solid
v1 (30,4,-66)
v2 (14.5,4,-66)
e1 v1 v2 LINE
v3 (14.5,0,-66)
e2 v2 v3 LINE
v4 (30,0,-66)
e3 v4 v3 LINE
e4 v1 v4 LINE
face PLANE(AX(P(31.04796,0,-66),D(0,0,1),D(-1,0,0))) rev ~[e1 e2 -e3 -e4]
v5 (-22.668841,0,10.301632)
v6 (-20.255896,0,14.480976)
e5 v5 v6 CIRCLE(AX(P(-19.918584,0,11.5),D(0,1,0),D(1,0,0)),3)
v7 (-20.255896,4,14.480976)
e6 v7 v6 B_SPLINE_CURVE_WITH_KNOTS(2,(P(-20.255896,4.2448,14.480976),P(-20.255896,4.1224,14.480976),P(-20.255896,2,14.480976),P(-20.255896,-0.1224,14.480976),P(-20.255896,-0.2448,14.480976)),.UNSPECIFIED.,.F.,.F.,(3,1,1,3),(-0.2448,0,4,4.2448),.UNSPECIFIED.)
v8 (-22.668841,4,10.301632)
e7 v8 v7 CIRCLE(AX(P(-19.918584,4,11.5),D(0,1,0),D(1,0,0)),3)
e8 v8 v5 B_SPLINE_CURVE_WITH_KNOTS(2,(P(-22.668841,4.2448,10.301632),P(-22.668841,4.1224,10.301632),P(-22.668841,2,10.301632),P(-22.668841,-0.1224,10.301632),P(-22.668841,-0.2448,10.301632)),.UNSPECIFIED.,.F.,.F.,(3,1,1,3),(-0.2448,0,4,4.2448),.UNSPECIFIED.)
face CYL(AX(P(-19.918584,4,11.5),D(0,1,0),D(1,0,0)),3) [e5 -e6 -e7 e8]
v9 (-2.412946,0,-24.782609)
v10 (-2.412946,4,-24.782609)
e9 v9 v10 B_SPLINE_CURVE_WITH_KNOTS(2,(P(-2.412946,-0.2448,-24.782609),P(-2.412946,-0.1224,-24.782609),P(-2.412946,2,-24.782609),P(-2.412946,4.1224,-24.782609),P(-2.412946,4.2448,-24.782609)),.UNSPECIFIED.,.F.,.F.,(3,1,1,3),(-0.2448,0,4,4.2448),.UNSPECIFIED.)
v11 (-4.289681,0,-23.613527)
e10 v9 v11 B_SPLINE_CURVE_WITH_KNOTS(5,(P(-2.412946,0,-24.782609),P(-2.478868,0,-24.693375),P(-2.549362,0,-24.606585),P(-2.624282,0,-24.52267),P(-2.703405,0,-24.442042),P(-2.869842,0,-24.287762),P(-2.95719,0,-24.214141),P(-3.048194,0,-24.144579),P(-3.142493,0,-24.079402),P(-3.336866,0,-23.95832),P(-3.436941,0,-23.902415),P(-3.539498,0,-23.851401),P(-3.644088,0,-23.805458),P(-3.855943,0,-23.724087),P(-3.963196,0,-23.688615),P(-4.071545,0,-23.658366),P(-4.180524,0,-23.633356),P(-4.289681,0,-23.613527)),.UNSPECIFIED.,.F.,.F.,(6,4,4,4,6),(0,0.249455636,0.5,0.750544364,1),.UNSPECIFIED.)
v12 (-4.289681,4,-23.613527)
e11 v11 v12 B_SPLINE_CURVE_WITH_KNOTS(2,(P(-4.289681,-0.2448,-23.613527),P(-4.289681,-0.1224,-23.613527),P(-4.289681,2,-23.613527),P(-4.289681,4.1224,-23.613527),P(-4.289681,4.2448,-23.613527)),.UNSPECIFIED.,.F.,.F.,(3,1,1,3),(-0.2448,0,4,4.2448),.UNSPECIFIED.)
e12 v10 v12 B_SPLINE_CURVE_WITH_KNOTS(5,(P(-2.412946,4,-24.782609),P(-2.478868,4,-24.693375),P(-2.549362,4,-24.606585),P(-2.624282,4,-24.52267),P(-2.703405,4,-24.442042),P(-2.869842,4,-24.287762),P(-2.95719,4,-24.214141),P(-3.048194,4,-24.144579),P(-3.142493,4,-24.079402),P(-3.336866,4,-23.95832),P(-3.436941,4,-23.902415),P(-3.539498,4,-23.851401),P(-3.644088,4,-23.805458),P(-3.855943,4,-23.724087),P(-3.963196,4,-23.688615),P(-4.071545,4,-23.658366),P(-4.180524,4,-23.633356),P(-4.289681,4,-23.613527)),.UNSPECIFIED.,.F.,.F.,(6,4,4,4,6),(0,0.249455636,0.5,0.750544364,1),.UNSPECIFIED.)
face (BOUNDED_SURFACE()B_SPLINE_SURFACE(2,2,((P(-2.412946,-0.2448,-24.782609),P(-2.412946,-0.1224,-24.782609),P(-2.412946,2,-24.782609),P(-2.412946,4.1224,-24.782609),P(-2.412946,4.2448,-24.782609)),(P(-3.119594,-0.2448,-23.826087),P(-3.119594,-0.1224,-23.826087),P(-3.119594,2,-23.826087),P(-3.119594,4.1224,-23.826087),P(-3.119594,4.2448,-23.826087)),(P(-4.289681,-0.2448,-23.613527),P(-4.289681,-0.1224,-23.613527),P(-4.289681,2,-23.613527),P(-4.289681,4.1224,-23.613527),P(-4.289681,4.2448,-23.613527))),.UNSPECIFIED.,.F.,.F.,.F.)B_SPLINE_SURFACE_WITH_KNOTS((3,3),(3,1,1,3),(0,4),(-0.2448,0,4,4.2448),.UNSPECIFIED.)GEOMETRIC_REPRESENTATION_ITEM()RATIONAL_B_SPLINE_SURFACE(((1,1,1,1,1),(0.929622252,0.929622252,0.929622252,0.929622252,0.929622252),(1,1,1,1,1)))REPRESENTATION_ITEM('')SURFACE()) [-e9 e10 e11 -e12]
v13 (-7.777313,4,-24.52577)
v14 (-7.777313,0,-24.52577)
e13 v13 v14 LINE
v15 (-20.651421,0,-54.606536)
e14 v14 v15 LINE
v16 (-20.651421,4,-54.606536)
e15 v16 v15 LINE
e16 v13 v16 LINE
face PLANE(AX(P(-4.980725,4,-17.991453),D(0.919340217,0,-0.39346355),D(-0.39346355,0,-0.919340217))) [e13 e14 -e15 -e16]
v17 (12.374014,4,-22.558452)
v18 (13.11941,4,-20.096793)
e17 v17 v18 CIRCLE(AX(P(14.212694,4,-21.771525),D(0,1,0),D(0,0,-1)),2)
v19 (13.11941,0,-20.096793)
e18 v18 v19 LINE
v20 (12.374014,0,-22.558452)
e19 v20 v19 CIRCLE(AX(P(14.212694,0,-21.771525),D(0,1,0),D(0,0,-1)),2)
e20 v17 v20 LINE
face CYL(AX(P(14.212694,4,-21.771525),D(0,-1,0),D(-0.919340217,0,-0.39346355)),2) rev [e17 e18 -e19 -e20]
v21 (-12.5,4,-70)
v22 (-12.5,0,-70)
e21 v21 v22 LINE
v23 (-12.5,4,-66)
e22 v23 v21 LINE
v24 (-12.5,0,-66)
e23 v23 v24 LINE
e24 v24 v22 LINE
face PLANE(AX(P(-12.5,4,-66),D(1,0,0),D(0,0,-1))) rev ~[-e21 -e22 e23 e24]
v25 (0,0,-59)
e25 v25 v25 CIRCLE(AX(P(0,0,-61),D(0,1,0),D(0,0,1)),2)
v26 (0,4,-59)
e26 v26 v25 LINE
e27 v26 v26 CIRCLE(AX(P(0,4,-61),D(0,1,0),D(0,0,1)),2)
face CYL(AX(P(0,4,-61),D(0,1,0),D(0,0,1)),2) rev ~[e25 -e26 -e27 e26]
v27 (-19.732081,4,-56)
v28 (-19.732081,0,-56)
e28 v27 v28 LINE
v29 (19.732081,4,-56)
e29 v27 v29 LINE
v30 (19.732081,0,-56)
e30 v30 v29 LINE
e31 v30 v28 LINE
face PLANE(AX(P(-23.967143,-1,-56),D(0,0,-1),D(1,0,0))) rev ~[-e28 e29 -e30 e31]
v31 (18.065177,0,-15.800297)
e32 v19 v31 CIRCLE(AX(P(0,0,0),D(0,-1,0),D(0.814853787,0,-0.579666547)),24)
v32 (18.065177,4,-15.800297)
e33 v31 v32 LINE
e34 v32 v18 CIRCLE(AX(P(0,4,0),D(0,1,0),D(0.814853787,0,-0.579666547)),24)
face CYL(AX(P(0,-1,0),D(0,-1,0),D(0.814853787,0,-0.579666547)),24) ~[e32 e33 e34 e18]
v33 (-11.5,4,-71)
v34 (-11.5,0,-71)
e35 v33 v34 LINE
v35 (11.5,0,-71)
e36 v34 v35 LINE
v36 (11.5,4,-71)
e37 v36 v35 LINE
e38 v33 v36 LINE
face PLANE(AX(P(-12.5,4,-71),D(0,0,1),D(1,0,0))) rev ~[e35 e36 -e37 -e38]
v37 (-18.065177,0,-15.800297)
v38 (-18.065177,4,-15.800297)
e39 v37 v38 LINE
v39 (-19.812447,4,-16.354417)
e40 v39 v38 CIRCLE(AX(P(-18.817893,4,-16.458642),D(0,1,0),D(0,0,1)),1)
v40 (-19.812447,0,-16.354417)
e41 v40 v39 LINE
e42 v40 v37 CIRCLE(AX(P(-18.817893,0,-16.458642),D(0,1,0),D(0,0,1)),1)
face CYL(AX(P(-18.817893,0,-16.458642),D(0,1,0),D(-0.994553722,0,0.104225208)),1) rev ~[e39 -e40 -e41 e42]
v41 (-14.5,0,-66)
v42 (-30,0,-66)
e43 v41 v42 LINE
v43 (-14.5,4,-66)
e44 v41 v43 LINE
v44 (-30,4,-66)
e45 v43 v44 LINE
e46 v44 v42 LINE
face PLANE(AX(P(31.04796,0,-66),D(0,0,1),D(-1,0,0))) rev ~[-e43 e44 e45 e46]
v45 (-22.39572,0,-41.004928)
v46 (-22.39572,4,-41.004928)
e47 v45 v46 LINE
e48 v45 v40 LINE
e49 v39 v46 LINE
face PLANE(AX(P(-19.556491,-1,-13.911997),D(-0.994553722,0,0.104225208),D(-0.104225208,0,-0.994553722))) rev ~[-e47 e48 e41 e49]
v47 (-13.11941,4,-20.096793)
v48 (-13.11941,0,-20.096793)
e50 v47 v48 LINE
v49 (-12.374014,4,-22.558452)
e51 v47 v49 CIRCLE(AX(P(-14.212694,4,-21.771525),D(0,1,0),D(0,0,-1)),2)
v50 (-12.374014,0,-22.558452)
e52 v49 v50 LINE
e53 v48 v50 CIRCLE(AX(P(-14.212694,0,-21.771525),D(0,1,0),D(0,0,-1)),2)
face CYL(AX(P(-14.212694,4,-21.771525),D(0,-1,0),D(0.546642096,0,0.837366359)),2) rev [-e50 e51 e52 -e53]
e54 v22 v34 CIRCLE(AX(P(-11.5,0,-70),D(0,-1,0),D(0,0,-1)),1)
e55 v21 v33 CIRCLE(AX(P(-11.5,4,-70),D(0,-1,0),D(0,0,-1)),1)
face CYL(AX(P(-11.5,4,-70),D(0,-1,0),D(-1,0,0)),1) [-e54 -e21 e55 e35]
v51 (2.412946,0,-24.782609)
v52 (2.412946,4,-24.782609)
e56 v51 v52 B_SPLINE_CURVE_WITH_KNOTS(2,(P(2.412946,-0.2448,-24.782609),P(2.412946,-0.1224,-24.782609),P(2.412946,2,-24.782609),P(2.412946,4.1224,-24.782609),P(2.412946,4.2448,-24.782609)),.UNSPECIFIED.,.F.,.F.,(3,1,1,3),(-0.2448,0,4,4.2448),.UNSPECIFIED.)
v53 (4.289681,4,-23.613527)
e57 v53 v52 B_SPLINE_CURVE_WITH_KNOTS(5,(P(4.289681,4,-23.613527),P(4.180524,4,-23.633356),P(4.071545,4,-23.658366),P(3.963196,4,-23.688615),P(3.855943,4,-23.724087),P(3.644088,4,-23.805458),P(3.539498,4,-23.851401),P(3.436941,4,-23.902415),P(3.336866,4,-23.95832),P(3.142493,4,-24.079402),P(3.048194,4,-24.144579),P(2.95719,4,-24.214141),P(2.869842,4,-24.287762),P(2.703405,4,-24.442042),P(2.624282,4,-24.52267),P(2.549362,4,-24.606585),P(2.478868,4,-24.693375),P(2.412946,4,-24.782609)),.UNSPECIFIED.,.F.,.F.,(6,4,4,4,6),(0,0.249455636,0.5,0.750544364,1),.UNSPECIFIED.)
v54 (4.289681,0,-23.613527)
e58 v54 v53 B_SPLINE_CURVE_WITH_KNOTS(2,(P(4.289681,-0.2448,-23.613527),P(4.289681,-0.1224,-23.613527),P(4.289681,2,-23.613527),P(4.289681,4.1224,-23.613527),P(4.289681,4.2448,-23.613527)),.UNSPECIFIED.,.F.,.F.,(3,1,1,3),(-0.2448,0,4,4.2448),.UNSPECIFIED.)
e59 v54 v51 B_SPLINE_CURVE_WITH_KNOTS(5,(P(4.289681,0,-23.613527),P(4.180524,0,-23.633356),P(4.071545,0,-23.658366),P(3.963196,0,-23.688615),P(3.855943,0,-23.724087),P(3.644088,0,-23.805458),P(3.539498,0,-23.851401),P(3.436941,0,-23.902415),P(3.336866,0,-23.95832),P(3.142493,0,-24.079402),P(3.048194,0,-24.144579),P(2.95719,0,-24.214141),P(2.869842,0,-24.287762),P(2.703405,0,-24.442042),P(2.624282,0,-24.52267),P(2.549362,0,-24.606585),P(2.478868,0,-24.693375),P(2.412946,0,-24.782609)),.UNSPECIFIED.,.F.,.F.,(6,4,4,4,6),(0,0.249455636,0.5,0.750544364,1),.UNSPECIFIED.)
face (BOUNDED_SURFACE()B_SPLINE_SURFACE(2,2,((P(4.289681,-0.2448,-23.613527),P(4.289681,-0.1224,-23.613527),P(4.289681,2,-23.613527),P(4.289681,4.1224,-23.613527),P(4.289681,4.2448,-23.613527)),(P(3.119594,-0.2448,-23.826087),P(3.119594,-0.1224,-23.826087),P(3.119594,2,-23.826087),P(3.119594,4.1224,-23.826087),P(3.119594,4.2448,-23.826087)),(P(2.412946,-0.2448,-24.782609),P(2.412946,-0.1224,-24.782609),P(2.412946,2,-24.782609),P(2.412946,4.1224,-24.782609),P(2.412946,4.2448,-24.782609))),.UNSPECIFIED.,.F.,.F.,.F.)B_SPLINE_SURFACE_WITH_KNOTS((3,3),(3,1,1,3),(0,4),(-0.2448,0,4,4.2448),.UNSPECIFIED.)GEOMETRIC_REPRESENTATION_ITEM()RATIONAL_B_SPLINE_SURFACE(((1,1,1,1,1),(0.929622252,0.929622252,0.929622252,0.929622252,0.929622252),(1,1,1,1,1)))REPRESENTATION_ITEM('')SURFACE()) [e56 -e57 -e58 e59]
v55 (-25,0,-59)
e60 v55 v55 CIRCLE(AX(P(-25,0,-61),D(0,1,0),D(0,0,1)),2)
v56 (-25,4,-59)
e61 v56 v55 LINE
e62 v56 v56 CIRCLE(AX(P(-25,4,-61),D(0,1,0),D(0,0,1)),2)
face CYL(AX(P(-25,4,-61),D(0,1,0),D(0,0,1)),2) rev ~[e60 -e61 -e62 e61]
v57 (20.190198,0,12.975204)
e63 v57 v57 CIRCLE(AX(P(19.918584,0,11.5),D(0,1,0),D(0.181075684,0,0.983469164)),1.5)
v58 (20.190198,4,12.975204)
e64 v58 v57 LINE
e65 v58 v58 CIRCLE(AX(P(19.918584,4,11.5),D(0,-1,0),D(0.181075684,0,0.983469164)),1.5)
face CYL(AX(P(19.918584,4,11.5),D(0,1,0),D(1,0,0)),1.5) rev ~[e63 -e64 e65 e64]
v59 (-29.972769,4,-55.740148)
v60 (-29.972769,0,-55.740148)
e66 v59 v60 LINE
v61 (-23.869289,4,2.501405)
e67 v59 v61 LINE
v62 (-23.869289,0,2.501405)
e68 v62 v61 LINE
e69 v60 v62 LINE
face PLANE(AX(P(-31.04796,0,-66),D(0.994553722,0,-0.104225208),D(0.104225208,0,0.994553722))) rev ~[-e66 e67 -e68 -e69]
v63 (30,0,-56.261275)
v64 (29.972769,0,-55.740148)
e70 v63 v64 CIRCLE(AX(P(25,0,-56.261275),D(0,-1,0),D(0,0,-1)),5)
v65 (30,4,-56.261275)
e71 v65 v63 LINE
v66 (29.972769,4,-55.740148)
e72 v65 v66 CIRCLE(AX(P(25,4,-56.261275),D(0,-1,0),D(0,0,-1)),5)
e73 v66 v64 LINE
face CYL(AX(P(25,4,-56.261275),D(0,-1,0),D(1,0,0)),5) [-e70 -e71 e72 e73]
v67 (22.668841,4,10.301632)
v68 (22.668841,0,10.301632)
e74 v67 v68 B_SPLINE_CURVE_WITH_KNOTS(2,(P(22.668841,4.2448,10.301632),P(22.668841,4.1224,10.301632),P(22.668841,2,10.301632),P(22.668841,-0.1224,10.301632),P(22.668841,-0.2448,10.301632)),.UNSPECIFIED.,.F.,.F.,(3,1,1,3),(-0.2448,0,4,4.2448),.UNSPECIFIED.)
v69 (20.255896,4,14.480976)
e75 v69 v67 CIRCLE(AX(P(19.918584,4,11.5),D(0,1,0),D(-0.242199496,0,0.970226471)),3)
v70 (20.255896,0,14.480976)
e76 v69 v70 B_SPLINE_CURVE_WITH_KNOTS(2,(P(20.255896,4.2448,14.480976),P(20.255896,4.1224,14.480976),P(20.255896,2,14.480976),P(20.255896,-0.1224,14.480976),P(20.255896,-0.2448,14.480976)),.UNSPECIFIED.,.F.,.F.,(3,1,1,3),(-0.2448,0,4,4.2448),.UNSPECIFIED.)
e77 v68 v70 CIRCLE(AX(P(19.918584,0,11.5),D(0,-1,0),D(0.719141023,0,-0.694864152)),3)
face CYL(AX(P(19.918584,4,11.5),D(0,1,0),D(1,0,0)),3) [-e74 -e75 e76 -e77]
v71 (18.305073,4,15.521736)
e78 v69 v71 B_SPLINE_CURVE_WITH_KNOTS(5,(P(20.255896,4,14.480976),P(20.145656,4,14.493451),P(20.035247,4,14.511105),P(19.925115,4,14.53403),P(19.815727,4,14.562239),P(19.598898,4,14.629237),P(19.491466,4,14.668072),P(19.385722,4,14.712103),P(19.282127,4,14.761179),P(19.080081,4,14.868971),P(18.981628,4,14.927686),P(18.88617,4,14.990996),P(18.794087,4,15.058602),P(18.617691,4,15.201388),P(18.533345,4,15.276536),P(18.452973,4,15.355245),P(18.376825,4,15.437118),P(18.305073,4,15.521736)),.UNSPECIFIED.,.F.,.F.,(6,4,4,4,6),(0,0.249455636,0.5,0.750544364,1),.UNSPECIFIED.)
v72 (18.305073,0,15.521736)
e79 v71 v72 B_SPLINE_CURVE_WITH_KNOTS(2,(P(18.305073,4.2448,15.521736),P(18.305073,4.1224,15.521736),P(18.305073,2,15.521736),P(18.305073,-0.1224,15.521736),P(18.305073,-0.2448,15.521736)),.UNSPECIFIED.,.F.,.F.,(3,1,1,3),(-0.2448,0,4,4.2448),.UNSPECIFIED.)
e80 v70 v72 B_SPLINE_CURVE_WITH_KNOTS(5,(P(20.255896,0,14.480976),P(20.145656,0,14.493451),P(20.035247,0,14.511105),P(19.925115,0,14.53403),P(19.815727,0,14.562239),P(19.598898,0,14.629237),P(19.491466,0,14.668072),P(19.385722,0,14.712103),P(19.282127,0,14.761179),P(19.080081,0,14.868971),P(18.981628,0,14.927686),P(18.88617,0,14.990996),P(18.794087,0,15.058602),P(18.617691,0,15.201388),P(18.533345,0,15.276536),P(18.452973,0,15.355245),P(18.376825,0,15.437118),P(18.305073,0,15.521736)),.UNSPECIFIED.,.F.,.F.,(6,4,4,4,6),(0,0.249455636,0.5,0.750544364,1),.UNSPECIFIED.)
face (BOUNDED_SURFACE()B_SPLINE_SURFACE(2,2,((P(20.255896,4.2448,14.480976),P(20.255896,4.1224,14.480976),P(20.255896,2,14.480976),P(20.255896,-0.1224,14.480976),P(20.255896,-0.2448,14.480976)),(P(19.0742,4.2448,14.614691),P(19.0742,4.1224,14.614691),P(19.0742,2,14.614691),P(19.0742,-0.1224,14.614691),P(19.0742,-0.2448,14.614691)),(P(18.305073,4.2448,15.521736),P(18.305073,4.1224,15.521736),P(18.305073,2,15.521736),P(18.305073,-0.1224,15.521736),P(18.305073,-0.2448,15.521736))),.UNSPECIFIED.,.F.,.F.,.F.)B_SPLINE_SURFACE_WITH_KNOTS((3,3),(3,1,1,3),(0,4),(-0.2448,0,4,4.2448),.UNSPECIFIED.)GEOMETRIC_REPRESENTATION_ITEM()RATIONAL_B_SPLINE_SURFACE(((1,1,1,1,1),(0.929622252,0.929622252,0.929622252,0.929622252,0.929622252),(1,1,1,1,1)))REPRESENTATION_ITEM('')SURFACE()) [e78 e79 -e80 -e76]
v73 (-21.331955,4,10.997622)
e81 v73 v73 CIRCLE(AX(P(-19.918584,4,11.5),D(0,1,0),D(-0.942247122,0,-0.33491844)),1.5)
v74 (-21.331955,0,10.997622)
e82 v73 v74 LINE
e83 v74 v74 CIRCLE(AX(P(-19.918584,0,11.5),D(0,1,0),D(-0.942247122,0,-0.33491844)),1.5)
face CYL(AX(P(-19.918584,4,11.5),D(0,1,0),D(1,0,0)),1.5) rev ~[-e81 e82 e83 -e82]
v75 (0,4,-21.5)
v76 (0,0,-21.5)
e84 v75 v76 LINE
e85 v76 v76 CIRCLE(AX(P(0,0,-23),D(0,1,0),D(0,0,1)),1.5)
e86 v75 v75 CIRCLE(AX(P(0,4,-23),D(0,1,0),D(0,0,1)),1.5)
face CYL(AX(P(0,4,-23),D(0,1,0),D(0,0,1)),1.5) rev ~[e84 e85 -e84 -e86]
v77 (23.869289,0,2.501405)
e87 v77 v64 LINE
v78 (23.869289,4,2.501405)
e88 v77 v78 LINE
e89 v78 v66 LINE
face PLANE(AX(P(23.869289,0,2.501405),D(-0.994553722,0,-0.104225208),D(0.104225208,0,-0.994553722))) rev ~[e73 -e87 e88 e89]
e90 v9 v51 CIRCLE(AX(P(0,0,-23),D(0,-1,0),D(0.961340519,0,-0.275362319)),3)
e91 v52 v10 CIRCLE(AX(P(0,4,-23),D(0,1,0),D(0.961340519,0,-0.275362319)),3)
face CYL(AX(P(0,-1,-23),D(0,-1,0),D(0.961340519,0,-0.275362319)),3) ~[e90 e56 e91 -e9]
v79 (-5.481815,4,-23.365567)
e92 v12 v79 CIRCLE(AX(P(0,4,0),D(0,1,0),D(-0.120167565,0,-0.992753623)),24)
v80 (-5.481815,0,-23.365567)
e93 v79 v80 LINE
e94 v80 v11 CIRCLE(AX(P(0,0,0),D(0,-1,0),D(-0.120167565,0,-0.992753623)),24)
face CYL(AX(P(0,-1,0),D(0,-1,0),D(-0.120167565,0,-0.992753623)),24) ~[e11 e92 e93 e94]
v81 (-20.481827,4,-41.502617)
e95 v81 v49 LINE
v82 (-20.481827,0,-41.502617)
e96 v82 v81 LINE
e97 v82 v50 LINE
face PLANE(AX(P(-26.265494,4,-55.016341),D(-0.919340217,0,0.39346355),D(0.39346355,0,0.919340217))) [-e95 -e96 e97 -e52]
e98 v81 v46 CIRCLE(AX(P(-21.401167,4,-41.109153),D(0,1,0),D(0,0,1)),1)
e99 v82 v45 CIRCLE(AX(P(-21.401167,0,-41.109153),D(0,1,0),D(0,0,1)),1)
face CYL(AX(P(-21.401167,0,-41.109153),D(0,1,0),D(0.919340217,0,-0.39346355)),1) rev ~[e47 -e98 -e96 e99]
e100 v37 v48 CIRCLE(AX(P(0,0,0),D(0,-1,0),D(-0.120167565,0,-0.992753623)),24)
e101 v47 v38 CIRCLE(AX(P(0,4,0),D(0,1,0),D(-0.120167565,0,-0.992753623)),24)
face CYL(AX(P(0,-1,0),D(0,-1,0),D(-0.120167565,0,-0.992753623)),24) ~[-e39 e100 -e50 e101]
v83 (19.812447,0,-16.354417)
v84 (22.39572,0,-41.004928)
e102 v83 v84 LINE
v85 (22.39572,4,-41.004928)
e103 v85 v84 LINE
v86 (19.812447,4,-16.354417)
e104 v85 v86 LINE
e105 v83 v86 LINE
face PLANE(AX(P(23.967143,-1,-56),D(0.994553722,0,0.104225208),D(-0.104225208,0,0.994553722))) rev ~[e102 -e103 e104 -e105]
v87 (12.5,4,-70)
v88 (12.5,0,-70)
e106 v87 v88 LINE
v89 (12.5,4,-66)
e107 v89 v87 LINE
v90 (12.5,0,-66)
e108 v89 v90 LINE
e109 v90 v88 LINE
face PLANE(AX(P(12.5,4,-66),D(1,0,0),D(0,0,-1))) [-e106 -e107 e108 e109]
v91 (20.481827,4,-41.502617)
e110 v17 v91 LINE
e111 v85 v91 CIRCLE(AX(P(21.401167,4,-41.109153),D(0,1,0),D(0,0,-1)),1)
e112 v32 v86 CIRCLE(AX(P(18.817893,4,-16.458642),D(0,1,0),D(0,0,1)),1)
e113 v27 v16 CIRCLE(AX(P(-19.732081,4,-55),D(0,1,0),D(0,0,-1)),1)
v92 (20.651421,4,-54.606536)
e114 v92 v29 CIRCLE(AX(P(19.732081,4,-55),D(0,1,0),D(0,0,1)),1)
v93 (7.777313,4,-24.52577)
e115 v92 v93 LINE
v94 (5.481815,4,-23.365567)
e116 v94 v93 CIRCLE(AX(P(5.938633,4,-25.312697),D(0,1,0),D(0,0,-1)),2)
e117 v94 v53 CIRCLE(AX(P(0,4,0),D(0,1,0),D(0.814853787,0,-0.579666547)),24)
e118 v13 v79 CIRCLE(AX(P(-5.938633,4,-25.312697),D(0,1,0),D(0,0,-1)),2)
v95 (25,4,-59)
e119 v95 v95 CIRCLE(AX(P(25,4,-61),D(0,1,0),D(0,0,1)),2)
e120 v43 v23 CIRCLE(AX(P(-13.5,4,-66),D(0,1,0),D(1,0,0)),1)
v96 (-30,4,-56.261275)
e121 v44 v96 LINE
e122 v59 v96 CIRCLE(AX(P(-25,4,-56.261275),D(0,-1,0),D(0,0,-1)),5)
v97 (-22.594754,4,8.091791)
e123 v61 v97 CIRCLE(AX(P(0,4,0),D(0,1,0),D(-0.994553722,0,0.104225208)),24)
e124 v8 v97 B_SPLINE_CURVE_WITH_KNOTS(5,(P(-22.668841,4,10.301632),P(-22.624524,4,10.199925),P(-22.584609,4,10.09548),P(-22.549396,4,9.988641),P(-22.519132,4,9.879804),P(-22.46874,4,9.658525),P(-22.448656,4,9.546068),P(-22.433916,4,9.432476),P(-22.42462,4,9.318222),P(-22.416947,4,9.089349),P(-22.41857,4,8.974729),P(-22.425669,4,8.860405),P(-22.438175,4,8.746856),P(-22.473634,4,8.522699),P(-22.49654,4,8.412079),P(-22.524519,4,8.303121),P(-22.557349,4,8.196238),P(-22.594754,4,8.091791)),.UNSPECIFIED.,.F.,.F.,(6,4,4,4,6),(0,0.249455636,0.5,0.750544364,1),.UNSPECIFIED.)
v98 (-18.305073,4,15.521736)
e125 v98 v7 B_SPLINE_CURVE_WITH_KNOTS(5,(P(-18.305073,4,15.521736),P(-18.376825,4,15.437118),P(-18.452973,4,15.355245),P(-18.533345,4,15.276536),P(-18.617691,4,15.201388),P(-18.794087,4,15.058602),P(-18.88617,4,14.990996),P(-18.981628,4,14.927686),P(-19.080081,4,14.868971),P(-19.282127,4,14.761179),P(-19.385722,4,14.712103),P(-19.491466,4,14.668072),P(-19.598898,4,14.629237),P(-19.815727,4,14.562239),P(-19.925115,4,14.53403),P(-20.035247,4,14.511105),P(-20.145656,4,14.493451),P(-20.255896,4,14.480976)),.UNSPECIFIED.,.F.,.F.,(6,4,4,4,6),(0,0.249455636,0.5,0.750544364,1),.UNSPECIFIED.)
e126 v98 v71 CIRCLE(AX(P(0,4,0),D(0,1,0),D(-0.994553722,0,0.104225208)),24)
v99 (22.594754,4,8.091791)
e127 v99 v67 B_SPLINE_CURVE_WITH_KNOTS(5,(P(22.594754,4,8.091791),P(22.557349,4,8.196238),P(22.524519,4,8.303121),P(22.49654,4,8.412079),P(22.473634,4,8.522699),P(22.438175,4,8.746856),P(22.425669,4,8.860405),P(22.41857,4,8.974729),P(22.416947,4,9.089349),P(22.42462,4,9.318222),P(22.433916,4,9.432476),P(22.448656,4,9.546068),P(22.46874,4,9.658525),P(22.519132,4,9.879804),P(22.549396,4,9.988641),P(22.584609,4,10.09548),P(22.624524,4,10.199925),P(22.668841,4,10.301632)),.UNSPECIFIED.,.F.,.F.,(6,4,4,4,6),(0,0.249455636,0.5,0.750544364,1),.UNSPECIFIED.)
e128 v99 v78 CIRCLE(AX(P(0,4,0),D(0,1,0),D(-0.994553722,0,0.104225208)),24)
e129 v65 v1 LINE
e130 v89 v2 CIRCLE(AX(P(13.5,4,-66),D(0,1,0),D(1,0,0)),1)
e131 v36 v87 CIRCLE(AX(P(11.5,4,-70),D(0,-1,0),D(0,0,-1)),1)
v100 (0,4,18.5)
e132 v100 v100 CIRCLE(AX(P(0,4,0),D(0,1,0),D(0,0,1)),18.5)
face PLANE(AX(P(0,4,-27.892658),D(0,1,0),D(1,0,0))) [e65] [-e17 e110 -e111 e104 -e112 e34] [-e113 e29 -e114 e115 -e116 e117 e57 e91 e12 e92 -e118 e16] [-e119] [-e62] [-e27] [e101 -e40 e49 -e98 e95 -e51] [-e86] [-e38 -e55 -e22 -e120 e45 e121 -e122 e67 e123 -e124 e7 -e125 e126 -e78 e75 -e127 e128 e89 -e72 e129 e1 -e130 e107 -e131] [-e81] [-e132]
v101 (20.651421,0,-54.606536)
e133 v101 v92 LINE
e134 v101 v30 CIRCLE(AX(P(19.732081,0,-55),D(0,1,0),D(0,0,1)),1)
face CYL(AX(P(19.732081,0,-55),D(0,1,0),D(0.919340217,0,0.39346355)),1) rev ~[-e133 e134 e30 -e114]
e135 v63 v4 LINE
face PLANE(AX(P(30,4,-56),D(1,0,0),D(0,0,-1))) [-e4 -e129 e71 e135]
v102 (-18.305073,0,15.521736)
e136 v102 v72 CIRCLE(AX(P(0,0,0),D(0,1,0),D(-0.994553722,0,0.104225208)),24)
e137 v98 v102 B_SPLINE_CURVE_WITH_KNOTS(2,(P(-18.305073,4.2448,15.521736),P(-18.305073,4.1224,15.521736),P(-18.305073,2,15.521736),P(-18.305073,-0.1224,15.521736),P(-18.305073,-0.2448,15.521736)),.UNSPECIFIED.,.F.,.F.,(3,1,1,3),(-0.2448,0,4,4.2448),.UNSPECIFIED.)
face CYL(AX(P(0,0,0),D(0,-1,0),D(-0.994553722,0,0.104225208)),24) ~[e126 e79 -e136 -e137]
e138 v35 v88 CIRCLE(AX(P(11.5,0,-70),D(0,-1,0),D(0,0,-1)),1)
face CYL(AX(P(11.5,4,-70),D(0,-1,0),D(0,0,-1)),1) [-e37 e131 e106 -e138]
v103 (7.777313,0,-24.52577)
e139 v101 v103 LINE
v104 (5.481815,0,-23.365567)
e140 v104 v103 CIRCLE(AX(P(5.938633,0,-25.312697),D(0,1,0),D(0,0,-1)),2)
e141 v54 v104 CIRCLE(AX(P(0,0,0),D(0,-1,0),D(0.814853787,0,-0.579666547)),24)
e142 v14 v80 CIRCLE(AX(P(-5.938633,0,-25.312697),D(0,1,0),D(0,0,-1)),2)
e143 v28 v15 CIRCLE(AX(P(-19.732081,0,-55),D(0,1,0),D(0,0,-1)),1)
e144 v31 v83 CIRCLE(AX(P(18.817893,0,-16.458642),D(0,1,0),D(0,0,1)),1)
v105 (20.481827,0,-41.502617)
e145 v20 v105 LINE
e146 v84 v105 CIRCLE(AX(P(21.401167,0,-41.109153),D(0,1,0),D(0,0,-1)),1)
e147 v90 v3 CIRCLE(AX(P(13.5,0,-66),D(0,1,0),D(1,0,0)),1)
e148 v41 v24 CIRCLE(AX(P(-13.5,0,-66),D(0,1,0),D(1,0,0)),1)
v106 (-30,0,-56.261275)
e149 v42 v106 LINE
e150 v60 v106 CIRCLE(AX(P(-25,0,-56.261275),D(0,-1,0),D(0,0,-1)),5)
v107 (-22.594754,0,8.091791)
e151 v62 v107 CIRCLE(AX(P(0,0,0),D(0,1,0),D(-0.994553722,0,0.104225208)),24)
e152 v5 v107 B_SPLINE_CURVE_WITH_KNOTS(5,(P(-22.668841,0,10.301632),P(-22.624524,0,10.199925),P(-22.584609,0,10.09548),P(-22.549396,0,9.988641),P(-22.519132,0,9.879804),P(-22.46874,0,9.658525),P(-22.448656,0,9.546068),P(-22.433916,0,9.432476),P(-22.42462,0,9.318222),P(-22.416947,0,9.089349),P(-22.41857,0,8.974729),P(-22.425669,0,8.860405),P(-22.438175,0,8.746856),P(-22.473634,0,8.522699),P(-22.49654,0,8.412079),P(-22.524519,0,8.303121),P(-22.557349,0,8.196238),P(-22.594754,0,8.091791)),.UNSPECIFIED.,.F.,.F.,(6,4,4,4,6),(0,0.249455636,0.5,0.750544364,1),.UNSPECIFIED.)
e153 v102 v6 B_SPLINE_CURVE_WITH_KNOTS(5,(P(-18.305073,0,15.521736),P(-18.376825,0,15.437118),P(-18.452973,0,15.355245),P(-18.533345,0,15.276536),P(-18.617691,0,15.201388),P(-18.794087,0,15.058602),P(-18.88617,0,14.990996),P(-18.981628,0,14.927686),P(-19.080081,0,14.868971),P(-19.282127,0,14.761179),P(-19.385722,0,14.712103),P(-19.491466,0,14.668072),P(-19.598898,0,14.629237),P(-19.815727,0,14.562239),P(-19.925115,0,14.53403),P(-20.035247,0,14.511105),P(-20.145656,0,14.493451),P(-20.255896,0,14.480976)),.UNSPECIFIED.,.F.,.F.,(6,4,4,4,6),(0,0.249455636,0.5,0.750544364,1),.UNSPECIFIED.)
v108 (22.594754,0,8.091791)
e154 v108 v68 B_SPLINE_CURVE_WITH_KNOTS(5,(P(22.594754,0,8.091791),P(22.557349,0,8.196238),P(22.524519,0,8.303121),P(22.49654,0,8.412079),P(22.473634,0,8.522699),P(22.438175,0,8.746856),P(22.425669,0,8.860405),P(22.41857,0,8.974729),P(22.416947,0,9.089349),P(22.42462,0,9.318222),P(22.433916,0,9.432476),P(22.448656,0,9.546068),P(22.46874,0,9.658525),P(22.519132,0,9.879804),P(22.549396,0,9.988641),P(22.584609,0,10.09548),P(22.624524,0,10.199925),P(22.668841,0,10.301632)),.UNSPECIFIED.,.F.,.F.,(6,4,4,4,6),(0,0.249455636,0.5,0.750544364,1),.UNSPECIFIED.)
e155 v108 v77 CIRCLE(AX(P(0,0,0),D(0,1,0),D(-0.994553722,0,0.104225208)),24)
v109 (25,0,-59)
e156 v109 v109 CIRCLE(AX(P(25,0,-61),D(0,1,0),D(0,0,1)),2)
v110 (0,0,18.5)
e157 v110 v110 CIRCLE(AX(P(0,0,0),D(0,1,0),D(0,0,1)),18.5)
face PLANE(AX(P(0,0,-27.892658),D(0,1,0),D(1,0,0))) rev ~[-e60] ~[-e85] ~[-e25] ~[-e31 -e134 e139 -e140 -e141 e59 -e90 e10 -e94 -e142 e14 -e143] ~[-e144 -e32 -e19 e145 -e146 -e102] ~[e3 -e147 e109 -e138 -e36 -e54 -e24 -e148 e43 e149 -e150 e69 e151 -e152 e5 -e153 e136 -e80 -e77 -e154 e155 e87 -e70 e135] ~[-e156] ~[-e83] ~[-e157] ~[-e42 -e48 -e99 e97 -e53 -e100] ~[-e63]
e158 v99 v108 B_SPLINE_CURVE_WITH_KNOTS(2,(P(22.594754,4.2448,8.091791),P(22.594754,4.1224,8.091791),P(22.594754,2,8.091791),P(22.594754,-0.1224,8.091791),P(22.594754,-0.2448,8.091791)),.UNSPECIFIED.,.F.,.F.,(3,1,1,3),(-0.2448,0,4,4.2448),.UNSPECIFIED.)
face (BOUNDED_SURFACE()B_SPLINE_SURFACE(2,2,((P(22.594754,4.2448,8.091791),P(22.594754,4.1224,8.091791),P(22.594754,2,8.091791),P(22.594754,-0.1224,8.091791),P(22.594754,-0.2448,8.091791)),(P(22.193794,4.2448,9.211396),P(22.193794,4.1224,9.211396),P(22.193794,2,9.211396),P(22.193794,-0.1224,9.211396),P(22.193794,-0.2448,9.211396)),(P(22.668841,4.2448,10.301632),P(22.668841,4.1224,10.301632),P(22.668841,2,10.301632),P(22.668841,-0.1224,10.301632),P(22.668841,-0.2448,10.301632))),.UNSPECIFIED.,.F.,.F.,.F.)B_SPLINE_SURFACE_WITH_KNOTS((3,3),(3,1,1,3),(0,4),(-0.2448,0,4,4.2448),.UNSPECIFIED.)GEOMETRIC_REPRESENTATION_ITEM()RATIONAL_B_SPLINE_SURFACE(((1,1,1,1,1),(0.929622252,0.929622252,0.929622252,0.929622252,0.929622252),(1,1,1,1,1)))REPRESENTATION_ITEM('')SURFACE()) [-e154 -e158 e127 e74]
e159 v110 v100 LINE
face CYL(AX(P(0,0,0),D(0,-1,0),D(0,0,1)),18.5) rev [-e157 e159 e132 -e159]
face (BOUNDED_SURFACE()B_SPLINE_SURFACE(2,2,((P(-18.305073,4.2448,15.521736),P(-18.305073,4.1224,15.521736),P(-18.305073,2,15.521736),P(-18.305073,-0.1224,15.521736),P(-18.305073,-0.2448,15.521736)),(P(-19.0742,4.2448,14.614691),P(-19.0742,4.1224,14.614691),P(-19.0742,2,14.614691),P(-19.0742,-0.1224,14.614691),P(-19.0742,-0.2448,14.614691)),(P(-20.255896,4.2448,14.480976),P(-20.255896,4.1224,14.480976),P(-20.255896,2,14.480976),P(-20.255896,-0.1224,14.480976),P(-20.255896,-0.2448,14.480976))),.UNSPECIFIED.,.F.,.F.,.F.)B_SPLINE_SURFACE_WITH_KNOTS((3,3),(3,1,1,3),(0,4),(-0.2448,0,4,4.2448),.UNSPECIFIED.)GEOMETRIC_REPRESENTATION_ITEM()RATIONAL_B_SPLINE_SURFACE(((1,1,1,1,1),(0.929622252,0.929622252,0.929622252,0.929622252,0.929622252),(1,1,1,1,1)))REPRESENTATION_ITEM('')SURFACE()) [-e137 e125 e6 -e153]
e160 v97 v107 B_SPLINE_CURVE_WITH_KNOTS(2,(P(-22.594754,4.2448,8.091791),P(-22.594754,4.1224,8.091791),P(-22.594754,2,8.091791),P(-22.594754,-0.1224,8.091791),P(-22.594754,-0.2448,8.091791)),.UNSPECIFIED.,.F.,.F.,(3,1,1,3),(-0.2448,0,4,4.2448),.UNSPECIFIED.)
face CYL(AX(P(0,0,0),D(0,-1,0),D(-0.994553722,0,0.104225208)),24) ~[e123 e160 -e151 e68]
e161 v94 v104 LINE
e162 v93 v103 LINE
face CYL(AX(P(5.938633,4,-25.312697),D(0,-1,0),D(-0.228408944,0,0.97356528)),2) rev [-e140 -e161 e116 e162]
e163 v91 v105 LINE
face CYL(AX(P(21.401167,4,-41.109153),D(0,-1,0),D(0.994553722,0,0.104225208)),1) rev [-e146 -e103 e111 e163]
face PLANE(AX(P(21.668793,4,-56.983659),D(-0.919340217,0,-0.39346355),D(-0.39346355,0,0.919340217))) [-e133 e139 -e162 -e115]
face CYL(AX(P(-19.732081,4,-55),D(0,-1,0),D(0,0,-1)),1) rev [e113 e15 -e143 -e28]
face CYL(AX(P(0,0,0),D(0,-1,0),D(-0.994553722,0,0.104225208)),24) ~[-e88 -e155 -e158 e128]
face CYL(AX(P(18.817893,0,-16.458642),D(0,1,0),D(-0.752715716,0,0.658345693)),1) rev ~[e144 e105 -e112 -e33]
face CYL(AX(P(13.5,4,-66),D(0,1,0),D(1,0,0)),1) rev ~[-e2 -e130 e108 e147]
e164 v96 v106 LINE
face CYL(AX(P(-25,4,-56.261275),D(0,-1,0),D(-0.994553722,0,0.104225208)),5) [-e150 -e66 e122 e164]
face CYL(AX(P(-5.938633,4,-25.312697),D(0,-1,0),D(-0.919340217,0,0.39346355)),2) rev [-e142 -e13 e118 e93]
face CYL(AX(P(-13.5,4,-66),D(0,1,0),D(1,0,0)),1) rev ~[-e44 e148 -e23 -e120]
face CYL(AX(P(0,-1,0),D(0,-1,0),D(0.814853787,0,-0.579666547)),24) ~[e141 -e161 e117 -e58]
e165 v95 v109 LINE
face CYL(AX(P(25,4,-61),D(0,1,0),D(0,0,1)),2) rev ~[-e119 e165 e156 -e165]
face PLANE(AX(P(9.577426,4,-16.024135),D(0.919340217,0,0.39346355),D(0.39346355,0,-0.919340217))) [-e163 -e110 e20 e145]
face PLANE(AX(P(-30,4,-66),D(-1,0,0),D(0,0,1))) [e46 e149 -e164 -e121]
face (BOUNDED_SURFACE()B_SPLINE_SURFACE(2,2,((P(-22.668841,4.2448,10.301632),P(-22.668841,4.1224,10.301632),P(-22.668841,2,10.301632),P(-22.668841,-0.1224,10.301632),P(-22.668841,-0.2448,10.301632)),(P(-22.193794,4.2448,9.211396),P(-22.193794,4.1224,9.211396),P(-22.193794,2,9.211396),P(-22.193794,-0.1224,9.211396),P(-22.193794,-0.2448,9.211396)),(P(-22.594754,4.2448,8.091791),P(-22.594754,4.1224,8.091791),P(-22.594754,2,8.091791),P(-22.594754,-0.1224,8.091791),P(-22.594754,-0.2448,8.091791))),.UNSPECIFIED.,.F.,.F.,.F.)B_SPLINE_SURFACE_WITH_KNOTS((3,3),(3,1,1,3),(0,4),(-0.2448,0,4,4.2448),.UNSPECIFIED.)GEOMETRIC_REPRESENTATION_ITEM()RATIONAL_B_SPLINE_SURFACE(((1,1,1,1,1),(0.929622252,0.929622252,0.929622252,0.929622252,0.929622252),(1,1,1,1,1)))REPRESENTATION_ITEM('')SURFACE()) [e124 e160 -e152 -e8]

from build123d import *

# Parameters (mm, degrees)
SKETCH_1_R          = 18.5
EXTRUDE_1_DEPTH     = 4
SKETCH_2_R          = 5
SKETCH_2_R_2        = 1.5
CUT_EXTRUDE_1_DEPTH = 10
SKETCH_4_R          = 2
CUT_EXTRUDE_2_DEPTH = 4
SKETCH_5_W          = 25
SKETCH_5_H          = 5
EXTRUDE_2_DEPTH     = 4
SKETCH_6_R          = 1
CUT_EXTRUDE_3_DEPTH = 10
FILLET_2_R          = 1
CUT_EXTRUDE_START   = -5
CUT_EXTRUDE_4_DEPTH = 5
EXTRUDE_1_2_DEPTH   = 4
FILLET_3_R          = 2
FILLET_4_R          = 3
FILLET_5_R          = 1
SKETCH_10_R         = 3
SKETCH_10_R_2       = 1.5
EXTRUDE_3_DEPTH     = 4
FILLET_6_R          = 3
CUT_EXTRUDE_5_DEPTH = 4
FILLET_7_R          = 5


with BuildPart() as part:
    # 草图1 → Extrude 1 (new body)
    with BuildSketch(Plane(origin=(0, 0, 0), x_dir=(1, 0, 0), z_dir=(0, 1, 0))):
        with BuildLine():
            ThreePointArc((-23.869289328, -2.501404997), (0, -24), (23.869289328, -2.501404997))
            Line((23.869289328, -2.501404997), (31.047959561, 66))
            Line((31.047959561, 66), (-31.047959561, 66))
            Line((-31.047959561, 66), (-23.869289328, -2.501404997))
        make_face()
        with Locations(Location((0, 0, 0), (0, 0, 270))):
            Circle(SKETCH_1_R, mode=Mode.SUBTRACT)
    extrude(amount=EXTRUDE_1_DEPTH)

    # 草图2 → 切除-拉伸1 (cut)
    with BuildSketch(Plane(origin=(0, 4, 0), x_dir=(1, 0, 0), z_dir=(0, 1, 0))):
        with Locations((0, -31.5)):
            Circle(SKETCH_2_R)
        with Locations(Location((0, 23, 0), (0, 0, 270))):
            Circle(SKETCH_2_R_2)
        with Locations((19.918584287, -11.5)):
            Circle(SKETCH_2_R_2)
        with Locations((-19.918584287, -11.5)):
            Circle(SKETCH_2_R_2)
    extrude(amount=-CUT_EXTRUDE_1_DEPTH, mode=Mode.SUBTRACT)

    # 草图4 → 切除-拉伸2 (cut)
    with BuildSketch(Plane(origin=(0, 4, 0), x_dir=(1, 0, 0), z_dir=(0, 1, 0))):
        with Locations(Location((-25, 61, 0), (0, 0, 270))):
            Circle(SKETCH_4_R)
        with Locations(Location((0, 61, 0), (0, 0, 270))):
            Circle(SKETCH_4_R)
        with Locations(Location((25, 61, 0), (0, 0, 270))):
            Circle(SKETCH_4_R)
    extrude(amount=-CUT_EXTRUDE_2_DEPTH, mode=Mode.SUBTRACT)

    # 草图5 → 凸台-拉伸2 (add)
    with BuildSketch(Plane(origin=(0, 4, 0), x_dir=(1, 0, 0), z_dir=(0, 1, 0))):
        with Locations((0, 68.5)):
            Rectangle(SKETCH_5_W, SKETCH_5_H)
    extrude(amount=-EXTRUDE_2_DEPTH)

    # 草图6 → 切除-拉伸3 (cut)
    with BuildSketch(Plane(origin=(0, 4, 0), x_dir=(1, 0, 0), z_dir=(0, 1, 0))):
        with Locations((-13.5, 66)):
            Circle(SKETCH_6_R)
        with Locations((13.5, 66)):
            Circle(SKETCH_6_R)
    extrude(amount=-CUT_EXTRUDE_3_DEPTH, mode=Mode.SUBTRACT)

    # 圆角2
    fillet_2_edges = [part.edges().sort_by_distance(p)[0] for p in [
        (12.5, 2, -71),
        (-12.5, 2, -71),
    ]]
    fillet(fillet_2_edges, radius=FILLET_2_R)

    # 草图7 → 切除-拉伸4 (cut)
    with BuildSketch(Plane(origin=(0, 4, 0), x_dir=(1, 0, 0), z_dir=(0, 1, 0)).offset(CUT_EXTRUDE_START)):
        with BuildLine():
            Line((-19.556490884, 13.911997136), (-23.967143386, 56))
            Line((-23.967143386, 56), (23.967143386, 56))
            Line((23.967143386, 56), (19.556490884, 13.911997136))
            ThreePointArc((19.556490884, 13.911997136), (12.266476425, 20.628464705), (2.884021557, 23.826086957))
            ThreePointArc((2.884021557, 23.826086957), (0, 26), (-2.884021557, 23.826086957))
            ThreePointArc((-2.884021557, 23.826086957), (-12.266476425, 20.628464705), (-19.556490884, 13.911997136))
        make_face()
    extrude(amount=CUT_EXTRUDE_4_DEPTH, mode=Mode.SUBTRACT)

    # 草图8 → Extrude 1 2 (add)
    with BuildSketch(Plane(origin=(0, 4, 0), x_dir=(1, 0, 0), z_dir=(0, 1, 0))):
        Polygon((-26.265493929, 55.016341125), (-9.577426219, 16.024135141), (-4.980725133, 17.991452891), (-21.668792843, 56.983658875), align=None)
        Polygon((21.668792843, 56.983658875), (4.980725133, 17.991452891), (9.577426219, 16.024135141), (26.265493929, 55.016341125), align=None)
    extrude(amount=-EXTRUDE_1_2_DEPTH)

    # 圆角3
    fillet_3_edges = [part.edges().sort_by_distance(p)[0] for p in [
        (-11.690103776, 2, -20.960474081),
        (-7.09340269, 2, -22.927791832),
        (11.690103776, 2, -20.960474081),
        (7.09340269, 2, -22.927791832),
    ]]
    fillet(fillet_3_edges, radius=FILLET_3_R)

    # 圆角4
    fillet_4_edges = [part.edges().sort_by_distance(p)[0] for p in [
        (-2.884021557, 2, -23.826086957),
        (2.884021557, 2, -23.826086957),
    ]]
    fillet(fillet_4_edges, radius=FILLET_4_R)

    # 圆角5
    fillet_5_edges = [part.edges().sort_by_distance(p)[0] for p in [
        (-19.556490884, 2, -13.911997136),
        (19.556490884, 2, -13.911997136),
        (-21.247801891, 2, -56),
        (-23.085380037, 2, -47.585902918),
        (21.247801891, 2, -56),
        (23.085380037, 2, -47.585902918),
    ]]
    fillet(fillet_5_edges, radius=FILLET_5_R)

    # 草图10 → 凸台-拉伸3 (add)
    # profile 1 of 2: a face of its own
    with BuildSketch(Plane(origin=(0, 4, 0), x_dir=(1, 0, 0), z_dir=(0, 1, 0))):
        with Locations((-19.918584287, -11.5)):
            Circle(SKETCH_10_R)
        with Locations(Location((-19.918584287, -11.5, 0), (0, 0, 270))):
            Circle(SKETCH_10_R_2, mode=Mode.SUBTRACT)
    # profile 2 of 2: a face of its own
    with BuildSketch(Plane(origin=(0, 4, 0), x_dir=(1, 0, 0), z_dir=(0, 1, 0))):
        with Locations((19.918584287, -11.5)):
            Circle(SKETCH_10_R)
        with Locations(Location((19.918584287, -11.5, 0), (0, 0, 270))):
            Circle(SKETCH_10_R_2, mode=Mode.SUBTRACT)
    extrude(amount=-EXTRUDE_3_DEPTH)

    # 圆角6
    fillet_6_edges = [part.edges().sort_by_distance(p)[0] for p in [
        (-22.076007356, 2, 9.415407545),
        (-19.191985799, 2, 14.410679412),
        (22.076007356, 2, 9.415407545),
        (19.191985799, 2, 14.410679412),
    ]]
    fillet(fillet_6_edges, radius=FILLET_6_R)

    # 草图11 → 切除-拉伸5 (cut)
    with BuildSketch(Plane(origin=(0, 4, 0), x_dir=(1, 0, 0), z_dir=(0, 1, 0))):
        Polygon((-30, 66), (-30, 56), (-31.047959561, 66), align=None)
        Polygon((30, 66), (31.047959561, 66), (30, 56), align=None)
    extrude(amount=-CUT_EXTRUDE_5_DEPTH, mode=Mode.SUBTRACT)

    # 圆角7
    fillet_7_edges = [part.edges().sort_by_distance(p)[0] for p in [
        (-30, 2, -56),
        (30, 2, -56),
    ]]
    fillet(fillet_7_edges, radius=FILLET_7_R)


solid = part.part
